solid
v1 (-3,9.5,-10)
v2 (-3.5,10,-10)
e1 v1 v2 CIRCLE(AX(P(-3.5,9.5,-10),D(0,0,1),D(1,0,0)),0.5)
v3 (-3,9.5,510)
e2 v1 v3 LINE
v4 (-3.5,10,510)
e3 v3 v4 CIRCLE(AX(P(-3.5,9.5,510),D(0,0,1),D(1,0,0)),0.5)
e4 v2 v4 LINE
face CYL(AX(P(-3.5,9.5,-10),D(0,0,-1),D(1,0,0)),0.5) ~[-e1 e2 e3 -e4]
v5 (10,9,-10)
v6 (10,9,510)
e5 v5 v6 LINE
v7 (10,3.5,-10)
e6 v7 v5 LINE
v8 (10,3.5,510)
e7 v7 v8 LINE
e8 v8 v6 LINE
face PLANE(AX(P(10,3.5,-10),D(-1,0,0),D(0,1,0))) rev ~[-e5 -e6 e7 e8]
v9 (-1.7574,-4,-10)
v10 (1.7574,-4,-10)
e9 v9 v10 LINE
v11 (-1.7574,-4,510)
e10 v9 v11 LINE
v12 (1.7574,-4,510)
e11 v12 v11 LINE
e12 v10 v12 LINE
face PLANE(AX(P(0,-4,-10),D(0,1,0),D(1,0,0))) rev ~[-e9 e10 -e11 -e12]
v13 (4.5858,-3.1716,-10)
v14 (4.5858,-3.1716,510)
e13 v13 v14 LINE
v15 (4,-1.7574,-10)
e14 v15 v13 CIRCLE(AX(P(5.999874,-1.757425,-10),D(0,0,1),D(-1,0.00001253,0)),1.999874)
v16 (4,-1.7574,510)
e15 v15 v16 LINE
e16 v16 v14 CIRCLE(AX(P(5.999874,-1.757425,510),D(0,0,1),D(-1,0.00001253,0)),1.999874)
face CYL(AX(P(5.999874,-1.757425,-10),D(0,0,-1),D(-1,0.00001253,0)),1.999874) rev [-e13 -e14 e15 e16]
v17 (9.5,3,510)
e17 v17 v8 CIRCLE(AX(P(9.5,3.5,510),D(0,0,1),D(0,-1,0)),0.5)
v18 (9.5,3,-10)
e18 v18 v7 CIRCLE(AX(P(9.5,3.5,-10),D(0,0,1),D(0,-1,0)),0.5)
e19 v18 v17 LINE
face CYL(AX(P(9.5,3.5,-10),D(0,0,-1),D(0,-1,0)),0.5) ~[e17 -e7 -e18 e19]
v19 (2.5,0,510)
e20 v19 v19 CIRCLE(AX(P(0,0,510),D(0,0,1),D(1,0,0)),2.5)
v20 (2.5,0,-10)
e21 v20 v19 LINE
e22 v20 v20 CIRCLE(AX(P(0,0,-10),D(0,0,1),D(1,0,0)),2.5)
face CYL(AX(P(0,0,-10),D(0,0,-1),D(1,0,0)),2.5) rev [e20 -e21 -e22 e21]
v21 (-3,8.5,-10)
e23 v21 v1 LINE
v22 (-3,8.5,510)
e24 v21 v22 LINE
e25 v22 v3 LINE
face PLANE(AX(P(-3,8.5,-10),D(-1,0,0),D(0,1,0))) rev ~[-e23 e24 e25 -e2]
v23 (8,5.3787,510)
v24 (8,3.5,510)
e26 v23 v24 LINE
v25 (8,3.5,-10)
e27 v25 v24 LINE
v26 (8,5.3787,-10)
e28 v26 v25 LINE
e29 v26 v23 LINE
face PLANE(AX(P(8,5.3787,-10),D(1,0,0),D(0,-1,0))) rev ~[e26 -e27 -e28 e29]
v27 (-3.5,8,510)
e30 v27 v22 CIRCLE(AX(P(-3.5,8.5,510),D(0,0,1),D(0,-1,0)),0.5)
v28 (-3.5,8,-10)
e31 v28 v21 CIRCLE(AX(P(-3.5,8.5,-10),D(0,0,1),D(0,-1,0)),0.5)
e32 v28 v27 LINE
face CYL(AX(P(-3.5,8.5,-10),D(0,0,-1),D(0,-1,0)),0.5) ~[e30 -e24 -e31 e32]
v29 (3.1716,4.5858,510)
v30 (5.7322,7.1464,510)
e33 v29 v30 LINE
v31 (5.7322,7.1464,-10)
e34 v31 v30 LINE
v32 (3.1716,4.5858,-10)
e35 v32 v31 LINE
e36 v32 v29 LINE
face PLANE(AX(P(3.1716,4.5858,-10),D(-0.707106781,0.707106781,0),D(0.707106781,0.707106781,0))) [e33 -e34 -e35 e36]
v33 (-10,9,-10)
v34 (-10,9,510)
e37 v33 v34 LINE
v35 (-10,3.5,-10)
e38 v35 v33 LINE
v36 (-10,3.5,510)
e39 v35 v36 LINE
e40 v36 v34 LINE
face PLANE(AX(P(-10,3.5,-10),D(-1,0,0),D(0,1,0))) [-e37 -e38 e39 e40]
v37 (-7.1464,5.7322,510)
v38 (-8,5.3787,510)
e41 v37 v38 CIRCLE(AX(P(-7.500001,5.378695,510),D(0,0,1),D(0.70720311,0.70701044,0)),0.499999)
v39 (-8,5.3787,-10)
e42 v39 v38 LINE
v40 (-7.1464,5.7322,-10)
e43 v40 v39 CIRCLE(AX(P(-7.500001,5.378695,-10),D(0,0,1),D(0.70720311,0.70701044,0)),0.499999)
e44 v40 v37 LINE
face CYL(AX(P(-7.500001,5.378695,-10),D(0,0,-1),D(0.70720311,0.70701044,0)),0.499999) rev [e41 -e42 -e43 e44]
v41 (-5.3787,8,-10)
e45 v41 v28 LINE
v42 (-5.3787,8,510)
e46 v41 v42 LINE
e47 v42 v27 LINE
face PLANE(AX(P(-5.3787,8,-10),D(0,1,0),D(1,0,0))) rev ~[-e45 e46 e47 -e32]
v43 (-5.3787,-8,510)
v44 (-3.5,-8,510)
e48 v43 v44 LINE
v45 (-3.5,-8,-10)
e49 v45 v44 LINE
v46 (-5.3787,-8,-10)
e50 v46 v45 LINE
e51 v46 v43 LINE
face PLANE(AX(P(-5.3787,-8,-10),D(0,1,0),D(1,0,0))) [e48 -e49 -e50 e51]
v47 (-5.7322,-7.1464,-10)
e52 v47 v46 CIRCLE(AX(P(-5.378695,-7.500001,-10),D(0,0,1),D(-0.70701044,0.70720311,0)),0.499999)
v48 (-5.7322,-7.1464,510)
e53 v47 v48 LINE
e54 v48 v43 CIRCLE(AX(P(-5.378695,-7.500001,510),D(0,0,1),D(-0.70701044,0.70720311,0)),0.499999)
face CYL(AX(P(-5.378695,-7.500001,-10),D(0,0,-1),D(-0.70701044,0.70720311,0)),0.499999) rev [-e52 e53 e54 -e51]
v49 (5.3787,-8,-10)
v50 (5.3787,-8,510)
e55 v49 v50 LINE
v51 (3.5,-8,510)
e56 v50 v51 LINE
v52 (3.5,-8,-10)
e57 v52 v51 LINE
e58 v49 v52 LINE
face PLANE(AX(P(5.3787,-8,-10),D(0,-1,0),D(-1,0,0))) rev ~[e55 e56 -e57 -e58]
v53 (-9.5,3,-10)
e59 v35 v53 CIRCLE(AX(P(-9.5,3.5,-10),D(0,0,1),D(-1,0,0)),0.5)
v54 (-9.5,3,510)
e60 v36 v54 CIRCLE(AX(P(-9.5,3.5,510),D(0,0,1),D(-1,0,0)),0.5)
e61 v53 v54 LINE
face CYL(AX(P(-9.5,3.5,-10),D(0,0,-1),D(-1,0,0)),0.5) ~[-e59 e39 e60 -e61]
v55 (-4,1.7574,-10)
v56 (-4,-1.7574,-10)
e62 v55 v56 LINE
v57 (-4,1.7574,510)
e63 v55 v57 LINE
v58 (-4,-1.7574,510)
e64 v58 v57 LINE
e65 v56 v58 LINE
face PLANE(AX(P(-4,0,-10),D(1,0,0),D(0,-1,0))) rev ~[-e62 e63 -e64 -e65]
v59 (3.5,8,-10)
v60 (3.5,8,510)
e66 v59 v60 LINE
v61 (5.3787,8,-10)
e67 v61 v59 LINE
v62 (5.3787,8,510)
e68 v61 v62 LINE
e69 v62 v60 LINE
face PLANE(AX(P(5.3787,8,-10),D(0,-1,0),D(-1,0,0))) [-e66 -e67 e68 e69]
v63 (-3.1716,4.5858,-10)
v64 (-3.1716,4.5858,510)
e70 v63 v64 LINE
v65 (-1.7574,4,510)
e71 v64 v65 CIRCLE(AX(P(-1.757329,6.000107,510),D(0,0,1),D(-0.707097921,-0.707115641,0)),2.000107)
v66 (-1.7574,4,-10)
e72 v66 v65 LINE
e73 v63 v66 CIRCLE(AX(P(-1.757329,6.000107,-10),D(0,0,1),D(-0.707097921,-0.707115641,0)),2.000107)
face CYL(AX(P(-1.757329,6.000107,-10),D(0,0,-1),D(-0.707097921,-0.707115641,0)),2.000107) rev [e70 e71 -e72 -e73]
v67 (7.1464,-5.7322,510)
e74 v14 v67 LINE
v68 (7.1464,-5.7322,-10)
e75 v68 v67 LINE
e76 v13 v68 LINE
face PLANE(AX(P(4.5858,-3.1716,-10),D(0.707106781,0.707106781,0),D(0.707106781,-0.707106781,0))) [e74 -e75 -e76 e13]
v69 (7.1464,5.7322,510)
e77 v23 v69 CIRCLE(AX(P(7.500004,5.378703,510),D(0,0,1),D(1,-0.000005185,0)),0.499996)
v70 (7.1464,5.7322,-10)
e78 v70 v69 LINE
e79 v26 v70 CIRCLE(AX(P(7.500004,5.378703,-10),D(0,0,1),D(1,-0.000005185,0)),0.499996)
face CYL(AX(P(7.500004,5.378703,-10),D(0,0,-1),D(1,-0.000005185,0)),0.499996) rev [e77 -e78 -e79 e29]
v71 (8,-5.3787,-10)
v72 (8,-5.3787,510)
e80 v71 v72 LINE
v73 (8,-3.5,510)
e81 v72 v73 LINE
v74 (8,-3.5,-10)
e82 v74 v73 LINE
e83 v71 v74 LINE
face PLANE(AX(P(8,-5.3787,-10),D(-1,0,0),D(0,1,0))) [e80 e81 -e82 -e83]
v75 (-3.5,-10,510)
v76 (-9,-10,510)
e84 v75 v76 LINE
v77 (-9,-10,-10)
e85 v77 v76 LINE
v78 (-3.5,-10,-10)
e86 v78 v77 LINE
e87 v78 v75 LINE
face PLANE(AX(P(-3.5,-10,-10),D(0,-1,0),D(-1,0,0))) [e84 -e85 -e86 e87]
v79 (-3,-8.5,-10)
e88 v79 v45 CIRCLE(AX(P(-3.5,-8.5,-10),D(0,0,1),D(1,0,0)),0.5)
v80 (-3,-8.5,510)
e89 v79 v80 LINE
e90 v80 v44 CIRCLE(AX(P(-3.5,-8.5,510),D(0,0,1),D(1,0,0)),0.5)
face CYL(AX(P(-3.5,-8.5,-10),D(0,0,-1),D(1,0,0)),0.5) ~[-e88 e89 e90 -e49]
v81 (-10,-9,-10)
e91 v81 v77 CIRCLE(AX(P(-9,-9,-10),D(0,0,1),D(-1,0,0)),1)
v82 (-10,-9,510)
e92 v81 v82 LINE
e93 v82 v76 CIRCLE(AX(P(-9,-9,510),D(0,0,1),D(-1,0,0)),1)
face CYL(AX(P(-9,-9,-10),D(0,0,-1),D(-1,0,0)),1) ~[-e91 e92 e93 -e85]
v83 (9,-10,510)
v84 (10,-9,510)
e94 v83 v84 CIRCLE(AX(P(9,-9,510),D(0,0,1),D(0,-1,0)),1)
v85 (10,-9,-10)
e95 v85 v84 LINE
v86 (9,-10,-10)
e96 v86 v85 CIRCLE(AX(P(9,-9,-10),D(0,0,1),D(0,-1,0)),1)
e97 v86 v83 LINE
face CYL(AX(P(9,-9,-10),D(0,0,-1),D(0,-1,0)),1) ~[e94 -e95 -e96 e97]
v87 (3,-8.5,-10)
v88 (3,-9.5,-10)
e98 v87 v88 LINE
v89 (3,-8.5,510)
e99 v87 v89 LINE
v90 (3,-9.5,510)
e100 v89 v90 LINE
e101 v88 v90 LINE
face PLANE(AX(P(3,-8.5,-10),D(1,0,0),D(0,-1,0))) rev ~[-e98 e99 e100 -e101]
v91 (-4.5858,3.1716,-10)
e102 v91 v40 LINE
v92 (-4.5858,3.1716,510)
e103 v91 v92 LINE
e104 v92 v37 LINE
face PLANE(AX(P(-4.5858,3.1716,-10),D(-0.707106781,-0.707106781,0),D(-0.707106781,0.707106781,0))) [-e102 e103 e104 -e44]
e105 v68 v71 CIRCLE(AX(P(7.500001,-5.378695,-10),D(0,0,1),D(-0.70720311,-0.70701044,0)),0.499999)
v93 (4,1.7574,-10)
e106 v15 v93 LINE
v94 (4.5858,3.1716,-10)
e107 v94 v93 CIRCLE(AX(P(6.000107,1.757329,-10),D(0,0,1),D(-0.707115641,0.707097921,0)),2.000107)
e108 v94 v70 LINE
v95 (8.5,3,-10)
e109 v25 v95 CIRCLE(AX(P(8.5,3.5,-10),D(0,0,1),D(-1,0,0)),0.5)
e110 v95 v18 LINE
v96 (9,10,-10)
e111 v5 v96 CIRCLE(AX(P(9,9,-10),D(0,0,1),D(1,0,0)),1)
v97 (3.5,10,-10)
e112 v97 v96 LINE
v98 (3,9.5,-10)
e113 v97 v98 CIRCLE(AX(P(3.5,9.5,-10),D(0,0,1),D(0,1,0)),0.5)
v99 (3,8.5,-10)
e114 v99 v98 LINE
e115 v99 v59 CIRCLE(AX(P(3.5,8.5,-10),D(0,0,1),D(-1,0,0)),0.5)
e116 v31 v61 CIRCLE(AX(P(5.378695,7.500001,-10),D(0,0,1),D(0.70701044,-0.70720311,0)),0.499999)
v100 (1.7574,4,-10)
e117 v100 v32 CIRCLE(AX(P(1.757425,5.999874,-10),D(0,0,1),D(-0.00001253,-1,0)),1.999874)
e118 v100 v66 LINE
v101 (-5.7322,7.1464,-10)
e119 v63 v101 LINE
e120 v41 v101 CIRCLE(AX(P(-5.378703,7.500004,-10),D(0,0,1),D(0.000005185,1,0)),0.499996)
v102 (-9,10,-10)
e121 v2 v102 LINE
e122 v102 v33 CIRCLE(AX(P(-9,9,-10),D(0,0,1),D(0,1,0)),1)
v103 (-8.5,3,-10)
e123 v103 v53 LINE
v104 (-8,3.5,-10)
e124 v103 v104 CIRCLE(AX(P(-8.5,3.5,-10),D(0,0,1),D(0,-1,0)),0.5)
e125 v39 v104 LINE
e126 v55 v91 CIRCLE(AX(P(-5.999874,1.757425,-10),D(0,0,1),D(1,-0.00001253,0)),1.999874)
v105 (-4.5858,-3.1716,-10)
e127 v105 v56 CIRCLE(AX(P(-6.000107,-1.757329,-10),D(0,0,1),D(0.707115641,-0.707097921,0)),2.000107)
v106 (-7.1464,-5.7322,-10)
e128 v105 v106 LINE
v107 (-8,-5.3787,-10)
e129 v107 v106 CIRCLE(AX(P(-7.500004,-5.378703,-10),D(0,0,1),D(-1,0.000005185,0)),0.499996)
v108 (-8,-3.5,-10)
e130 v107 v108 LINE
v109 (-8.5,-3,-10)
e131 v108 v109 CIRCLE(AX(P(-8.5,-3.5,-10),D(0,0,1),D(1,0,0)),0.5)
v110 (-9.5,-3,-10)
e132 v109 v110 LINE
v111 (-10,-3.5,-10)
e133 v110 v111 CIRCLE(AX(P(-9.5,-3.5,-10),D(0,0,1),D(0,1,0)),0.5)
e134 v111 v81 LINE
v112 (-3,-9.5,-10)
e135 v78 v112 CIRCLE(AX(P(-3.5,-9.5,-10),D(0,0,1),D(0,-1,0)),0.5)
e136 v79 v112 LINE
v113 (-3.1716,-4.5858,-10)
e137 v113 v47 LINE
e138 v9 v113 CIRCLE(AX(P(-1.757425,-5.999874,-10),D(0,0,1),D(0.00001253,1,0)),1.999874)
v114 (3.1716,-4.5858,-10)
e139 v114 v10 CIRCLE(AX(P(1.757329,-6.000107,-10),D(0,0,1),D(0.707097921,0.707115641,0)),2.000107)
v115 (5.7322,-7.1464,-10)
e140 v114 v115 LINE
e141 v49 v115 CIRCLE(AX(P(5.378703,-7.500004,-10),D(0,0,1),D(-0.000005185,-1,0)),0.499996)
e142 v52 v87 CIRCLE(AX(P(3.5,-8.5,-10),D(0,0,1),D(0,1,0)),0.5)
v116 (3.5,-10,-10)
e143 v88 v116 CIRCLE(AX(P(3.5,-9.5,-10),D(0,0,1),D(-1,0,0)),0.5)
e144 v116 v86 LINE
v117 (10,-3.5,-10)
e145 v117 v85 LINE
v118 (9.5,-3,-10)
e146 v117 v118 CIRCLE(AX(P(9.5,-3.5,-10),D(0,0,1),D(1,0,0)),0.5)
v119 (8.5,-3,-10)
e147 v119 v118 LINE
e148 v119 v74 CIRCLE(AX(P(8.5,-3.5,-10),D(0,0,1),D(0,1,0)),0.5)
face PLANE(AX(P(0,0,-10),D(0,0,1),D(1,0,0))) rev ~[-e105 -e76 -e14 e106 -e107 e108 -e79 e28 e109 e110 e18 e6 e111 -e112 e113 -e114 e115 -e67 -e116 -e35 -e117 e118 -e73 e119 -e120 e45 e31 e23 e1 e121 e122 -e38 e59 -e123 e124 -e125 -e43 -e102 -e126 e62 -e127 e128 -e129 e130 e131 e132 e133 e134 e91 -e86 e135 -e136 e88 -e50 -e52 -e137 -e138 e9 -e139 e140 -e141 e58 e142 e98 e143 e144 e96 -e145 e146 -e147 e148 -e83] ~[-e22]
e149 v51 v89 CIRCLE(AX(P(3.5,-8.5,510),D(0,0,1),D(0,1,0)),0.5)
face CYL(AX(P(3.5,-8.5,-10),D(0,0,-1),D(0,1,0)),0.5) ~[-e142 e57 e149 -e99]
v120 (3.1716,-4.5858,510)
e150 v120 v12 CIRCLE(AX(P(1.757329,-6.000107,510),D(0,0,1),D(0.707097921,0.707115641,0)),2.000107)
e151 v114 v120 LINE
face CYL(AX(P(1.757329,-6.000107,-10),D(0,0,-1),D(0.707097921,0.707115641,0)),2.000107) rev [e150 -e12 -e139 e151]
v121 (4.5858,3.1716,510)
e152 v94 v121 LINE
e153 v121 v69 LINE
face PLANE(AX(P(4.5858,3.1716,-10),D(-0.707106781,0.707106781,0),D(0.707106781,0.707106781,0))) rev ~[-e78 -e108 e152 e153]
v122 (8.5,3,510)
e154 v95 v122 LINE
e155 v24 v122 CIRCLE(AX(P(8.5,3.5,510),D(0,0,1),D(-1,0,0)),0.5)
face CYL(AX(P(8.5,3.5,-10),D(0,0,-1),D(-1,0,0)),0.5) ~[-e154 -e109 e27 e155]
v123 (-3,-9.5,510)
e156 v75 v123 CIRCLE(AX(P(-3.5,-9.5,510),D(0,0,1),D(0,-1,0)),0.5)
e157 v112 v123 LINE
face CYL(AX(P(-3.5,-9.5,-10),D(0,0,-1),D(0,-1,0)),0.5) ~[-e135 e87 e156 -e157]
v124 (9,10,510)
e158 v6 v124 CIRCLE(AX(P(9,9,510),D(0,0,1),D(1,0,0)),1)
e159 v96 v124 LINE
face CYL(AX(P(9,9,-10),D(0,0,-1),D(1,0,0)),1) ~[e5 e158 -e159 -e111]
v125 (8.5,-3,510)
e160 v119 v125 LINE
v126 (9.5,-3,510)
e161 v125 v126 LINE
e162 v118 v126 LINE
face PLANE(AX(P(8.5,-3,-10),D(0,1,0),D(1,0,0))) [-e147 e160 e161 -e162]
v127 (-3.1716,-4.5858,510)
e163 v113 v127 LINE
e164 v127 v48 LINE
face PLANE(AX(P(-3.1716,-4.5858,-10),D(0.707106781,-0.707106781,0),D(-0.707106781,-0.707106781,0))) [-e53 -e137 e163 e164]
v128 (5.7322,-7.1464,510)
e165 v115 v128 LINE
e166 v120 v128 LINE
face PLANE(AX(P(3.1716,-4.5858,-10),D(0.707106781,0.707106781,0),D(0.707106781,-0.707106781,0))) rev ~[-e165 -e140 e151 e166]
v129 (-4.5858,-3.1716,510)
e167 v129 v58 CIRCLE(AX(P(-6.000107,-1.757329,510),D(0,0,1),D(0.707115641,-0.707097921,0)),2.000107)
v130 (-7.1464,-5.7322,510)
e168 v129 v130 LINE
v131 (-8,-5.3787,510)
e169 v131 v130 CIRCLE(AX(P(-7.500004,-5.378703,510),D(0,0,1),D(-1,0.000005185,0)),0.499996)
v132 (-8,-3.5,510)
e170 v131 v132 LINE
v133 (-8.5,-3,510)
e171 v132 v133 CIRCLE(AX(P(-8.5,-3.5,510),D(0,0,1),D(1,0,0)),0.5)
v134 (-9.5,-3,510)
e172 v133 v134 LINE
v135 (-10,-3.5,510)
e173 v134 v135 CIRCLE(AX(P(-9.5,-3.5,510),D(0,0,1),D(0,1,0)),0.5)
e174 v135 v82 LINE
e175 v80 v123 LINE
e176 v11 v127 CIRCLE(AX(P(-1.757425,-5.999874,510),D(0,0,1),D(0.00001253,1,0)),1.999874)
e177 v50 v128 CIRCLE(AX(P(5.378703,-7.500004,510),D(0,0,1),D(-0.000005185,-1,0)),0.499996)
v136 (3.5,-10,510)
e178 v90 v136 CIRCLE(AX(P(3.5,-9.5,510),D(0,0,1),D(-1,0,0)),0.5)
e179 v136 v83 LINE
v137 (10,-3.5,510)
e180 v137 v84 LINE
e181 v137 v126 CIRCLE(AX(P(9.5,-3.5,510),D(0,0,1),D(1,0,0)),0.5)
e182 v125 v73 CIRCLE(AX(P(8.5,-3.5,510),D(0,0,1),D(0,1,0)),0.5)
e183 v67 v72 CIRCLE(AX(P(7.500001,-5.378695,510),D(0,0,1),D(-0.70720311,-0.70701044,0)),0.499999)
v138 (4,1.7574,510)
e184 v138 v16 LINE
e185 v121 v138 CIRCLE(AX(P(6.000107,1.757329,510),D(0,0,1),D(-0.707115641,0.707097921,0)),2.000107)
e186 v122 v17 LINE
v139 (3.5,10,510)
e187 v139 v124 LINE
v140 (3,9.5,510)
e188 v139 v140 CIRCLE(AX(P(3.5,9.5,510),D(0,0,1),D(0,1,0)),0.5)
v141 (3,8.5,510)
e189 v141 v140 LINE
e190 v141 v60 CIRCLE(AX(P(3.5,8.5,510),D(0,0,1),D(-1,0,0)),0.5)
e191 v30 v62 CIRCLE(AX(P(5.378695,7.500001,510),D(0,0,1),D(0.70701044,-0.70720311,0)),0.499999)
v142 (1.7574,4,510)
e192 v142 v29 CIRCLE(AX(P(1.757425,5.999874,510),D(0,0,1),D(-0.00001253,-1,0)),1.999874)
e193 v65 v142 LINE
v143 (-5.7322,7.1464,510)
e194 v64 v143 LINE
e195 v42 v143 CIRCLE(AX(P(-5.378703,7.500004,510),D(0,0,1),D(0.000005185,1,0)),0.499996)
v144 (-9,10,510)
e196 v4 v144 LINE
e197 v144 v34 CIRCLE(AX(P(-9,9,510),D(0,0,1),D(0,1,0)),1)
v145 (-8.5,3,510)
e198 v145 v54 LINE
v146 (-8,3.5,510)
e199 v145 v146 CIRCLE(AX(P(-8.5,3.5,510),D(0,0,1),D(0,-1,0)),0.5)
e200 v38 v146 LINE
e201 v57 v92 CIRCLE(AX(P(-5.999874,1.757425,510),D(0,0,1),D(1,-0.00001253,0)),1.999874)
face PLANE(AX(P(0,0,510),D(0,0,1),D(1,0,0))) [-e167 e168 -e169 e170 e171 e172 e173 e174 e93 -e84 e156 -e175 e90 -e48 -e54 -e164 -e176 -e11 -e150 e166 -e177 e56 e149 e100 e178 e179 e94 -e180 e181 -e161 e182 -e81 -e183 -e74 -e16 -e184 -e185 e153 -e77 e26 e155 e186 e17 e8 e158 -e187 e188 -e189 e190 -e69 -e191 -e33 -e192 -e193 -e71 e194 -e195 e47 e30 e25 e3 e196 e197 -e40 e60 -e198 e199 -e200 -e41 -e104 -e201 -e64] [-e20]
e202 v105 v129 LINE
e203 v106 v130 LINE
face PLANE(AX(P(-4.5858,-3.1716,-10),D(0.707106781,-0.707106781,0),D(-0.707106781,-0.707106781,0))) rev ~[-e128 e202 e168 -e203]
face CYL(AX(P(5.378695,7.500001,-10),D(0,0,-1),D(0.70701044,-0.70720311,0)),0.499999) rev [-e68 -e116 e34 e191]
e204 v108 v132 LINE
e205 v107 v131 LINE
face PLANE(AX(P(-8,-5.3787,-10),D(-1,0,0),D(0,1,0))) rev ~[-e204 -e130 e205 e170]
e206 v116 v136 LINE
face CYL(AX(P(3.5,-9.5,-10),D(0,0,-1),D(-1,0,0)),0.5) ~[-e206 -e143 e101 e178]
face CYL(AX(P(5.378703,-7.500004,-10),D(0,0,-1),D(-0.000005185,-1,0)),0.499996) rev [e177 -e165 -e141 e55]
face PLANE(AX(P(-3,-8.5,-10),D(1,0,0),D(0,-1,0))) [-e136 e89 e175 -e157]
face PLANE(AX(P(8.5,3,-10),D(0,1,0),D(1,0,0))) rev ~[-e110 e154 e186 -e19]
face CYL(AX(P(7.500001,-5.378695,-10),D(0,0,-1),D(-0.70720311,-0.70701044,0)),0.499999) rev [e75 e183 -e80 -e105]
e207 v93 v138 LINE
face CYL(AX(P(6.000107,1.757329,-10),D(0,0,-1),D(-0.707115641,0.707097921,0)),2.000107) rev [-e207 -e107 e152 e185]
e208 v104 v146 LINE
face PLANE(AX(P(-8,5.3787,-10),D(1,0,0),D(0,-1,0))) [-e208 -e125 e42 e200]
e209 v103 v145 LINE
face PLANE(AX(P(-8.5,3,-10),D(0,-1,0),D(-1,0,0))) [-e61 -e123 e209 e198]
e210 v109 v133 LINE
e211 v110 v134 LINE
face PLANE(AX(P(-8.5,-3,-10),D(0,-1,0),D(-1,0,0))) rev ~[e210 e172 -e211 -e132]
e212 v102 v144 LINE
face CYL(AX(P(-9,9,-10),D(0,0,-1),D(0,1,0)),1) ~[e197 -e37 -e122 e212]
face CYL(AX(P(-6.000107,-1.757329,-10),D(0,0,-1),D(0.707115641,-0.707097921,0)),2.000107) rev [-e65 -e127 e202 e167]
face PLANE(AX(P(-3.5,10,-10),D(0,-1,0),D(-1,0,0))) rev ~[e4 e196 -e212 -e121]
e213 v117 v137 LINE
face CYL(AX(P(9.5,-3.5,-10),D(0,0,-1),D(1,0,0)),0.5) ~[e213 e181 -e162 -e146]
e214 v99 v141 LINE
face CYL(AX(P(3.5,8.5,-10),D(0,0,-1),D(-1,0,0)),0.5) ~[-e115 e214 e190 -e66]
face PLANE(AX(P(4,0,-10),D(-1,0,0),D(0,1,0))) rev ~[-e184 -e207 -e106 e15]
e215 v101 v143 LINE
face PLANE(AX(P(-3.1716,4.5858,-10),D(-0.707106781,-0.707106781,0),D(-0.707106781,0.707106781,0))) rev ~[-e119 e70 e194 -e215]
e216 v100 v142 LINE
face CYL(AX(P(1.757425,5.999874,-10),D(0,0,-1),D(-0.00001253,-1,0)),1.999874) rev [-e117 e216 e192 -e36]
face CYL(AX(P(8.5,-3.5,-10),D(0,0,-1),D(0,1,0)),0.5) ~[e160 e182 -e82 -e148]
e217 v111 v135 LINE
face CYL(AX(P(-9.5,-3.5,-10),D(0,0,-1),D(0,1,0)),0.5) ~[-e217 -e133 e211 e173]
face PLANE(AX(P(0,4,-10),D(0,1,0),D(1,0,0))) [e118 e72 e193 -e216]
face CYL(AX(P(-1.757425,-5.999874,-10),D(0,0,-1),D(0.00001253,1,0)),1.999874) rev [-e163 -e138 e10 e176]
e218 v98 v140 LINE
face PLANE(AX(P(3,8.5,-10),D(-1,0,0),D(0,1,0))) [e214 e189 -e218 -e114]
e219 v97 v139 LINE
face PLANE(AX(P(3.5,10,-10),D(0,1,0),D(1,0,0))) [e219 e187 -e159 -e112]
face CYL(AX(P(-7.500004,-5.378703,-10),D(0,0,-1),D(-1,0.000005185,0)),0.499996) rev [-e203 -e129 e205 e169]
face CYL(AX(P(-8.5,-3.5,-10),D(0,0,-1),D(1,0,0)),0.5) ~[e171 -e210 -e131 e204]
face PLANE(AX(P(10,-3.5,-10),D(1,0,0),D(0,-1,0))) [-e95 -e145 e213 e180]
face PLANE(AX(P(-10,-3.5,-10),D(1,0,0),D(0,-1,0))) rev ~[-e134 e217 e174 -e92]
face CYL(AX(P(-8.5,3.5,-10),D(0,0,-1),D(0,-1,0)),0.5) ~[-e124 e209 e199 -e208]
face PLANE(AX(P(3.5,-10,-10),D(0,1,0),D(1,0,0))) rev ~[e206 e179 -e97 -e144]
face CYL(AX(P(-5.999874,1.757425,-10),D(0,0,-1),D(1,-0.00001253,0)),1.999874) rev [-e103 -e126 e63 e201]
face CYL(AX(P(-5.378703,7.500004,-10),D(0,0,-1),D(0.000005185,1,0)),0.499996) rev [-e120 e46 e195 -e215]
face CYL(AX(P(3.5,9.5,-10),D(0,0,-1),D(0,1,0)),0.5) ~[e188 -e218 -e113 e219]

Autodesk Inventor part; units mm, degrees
ref_plane "Start Plane" through (0, 0, -10) normal (0, 0, 1) x (1, 0, 0)
ref_plane "End Plane" through (0, 0, 510) normal (0, 0, 1) x (1, 0, 0)
sketch "Sketch" plane through (0, 0, 0) normal (0, 0, 1) x (1, 0, 0)
  line L0 (0, 0) -> (2.5, 0) construction
  line L1 (0, 0) -> (0, 2.5) construction
  line L2 (0, 4) -> (0, -4) construction
  line L3 (0, 4) -> (1.7574, 4)
  arc A0 (1.7574, 4) -> (3.1716, 4.5858) centre (1.7574, 6) ccw
  line L4 (3.1716, 4.5858) -> (5.7322, 7.1464)
  line L5 (-4, 0) -> (4, 0) construction
  line L6 (4, 0) -> (4, 1.7574)
  arc A1 (4.5858, 3.1716) -> (4, 1.7574) centre (6, 1.7574) ccw
  line L7 (4.5858, 3.1716) -> (7.1464, 5.7322)
  line L8 (0, 0) -> (10, 10) construction
  line L9 (0, 0) -> (19.6827, 0) construction
  arc A2 (8, 5.3787) -> (7.1464, 5.7322) centre (7.5, 5.3787) ccw
  line L10 (8, 5.3787) -> (8, 3.5)
  arc A3 (8, 3.5) -> (8.5, 3) centre (8.5, 3.5) ccw
  line L11 (8.5, 3) -> (9.5, 3)
  arc A4 (9.5, 3) -> (10, 3.5) centre (9.5, 3.5) ccw
  line L12 (10, 3.5) -> (10, 9)
  line L13 (10, 9) -> (10, 10) construction
  arc A5 (5.7322, 7.1464) -> (5.3787, 8) centre (5.3787, 7.5) ccw
  line L14 (5.3787, 8) -> (3.5, 8)
  arc A6 (3, 8.5) -> (3.5, 8) centre (3.5, 8.5) ccw
  line L15 (3, 8.5) -> (3, 9.5)
  arc A7 (3.5, 10) -> (3, 9.5) centre (3.5, 9.5) ccw
  line L16 (3.5, 10) -> (9, 10)
  arc A8 (10, 9) -> (9, 10) centre (9, 9) ccw
  line L17 (0, 4) -> (-1.7574, 4)
  arc A9 (-3.1716, 4.5858) -> (-1.7574, 4) centre (-1.7574, 6) ccw
  line L18 (-3.1716, 4.5858) -> (-5.7322, 7.1464)
  line L19 (-4, 0) -> (-4, 1.7574)
  arc A10 (-4, 1.7574) -> (-4.5858, 3.1716) centre (-6, 1.7574) ccw
  line L20 (-4.5858, 3.1716) -> (-7.1464, 5.7322)
  arc A11 (-7.1464, 5.7322) -> (-8, 5.3787) centre (-7.5, 5.3787) ccw
  line L21 (-8, 5.3787) -> (-8, 3.5)
  arc A12 (-8.5, 3) -> (-8, 3.5) centre (-8.5, 3.5) ccw
  line L22 (-8.5, 3) -> (-9.5, 3)
  arc A13 (-10, 3.5) -> (-9.5, 3) centre (-9.5, 3.5) ccw
  line L23 (-10, 3.5) -> (-10, 9)
  arc A14 (-5.3787, 8) -> (-5.7322, 7.1464) centre (-5.3787, 7.5) ccw
  line L24 (-5.3787, 8) -> (-3.5, 8)
  arc A15 (-3.5, 8) -> (-3, 8.5) centre (-3.5, 8.5) ccw
  line L25 (-3, 8.5) -> (-3, 9.5)
  arc A16 (-3, 9.5) -> (-3.5, 10) centre (-3.5, 9.5) ccw
  line L26 (-3.5, 10) -> (-9, 10)
  arc A17 (-9, 10) -> (-10, 9) centre (-9, 9) ccw
  line L27 (0, -4) -> (-1.7574, -4)
  arc A18 (-1.7574, -4) -> (-3.1716, -4.5858) centre (-1.7574, -6) ccw
  line L28 (-3.1716, -4.5858) -> (-5.7322, -7.1464)
  arc A19 (-5.7322, -7.1464) -> (-5.3787, -8) centre (-5.3787, -7.5) ccw
  line L29 (-5.3787, -8) -> (-3.5, -8)
  arc A20 (-3, -8.5) -> (-3.5, -8) centre (-3.5, -8.5) ccw
  line L30 (-3, -8.5) -> (-3, -9.5)
  arc A21 (-3.5, -10) -> (-3, -9.5) centre (-3.5, -9.5) ccw
  line L31 (-3.5, -10) -> (-9, -10)
  arc A22 (-10, -9) -> (-9, -10) centre (-9, -9) ccw
  line L32 (-10, -3.5) -> (-10, -9)
  arc A23 (-9.5, -3) -> (-10, -3.5) centre (-9.5, -3.5) ccw
  line L33 (-8.5, -3) -> (-9.5, -3)
  arc A24 (-8, -3.5) -> (-8.5, -3) centre (-8.5, -3.5) ccw
  line L34 (-8, -5.3787) -> (-8, -3.5)
  arc A25 (-8, -5.3787) -> (-7.1464, -5.7322) centre (-7.5, -5.3787) ccw
  line L35 (-4.5858, -3.1716) -> (-7.1464, -5.7322)
  arc A26 (-4.5858, -3.1716) -> (-4, -1.7574) centre (-6, -1.7574) ccw
  line L36 (-4, 0) -> (-4, -1.7574)
  line L37 (3.5, -10) -> (9, -10)
  arc A27 (9, -10) -> (10, -9) centre (9, -9) ccw
  line L38 (10, -3.5) -> (10, -9)
  arc A28 (10, -3.5) -> (9.5, -3) centre (9.5, -3.5) ccw
  line L39 (8.5, -3) -> (9.5, -3)
  arc A29 (8.5, -3) -> (8, -3.5) centre (8.5, -3.5) ccw
  line L40 (8, -5.3787) -> (8, -3.5)
  arc A30 (7.1464, -5.7322) -> (8, -5.3787) centre (7.5, -5.3787) ccw
  line L41 (4.5858, -3.1716) -> (7.1464, -5.7322)
  arc A31 (4, -1.7574) -> (4.5858, -3.1716) centre (6, -1.7574) ccw
  line L42 (4, 0) -> (4, -1.7574)
  line L43 (5.3787, -8) -> (3.5, -8)
  arc A32 (5.3787, -8) -> (5.7322, -7.1464) centre (5.3787, -7.5) ccw
  line L44 (3.1716, -4.5858) -> (5.7322, -7.1464)
  arc A33 (3.1716, -4.5858) -> (1.7574, -4) centre (1.7574, -6) ccw
  line L45 (0, -4) -> (1.7574, -4)
  arc A34 (3.5, -8) -> (3, -8.5) centre (3.5, -8.5) ccw
  line L46 (3, -8.5) -> (3, -9.5)
  arc A35 (3, -9.5) -> (3.5, -10) centre (3.5, -9.5) ccw
  circle A36 centre (0, 0) radius 2.5
  dimension "d1" = 8
  dimension "d2" = 2
  dimension "d3" = 8
  dimension "d4" = 2
  dimension "d5" = 2
  dimension "d7" = 45
  dimension "d8" = 0.5
  dimension "d9" = 0.5
  dimension "d10" = 0.5
  dimension "d12" = 2
  dimension "d17" = 7
  dimension "d18" = 10
  dimension "d19" = 0.5
  dimension "d20" = 1
  dimension "d21" = 0.5
  dimension "d22" = 0.5
  dimension "d23" = 2
  dimension "d24" = 7
  dimension "d25" = 5
extrude "Body" add sketch "Sketch" along normal up to surface (520 mm away) from surface at -10
sketch "Sketch6" plane through (0, 0, 0) normal (0, 0, 1) x (1, 0, 0)
  line L0 (0, 0) -> (10, 0)
ref_plane "Work Plane5" through (0, 0, 0) normal (0, -1, 0) x (1, 0, 0)
sketch "Sketch7" plane through (0, 0, 0) normal (0, -1, 0) x (1, 0, 0)
  line L0 (-2, -10) -> (12, -10)
  line L1 (-2, 510) -> (12, 510)
  dimension "d33" = 520
ref_plane "Work Plane6" through (-10.031, 0, 510) normal (0, 0, 1) x (1, 0, 0)
split "Split1" plane through (-10.031, 0, 510) removes the side toward (0, 0, 1)
ref_plane "Work Plane7" through (-139.969, 0, -10) normal (0, 0, -1) x (-1, 0, 0)
split "Split2" plane through (-139.969, 0, -10) removes the side toward (0, 0, -1)
equation "\"d1\" = 8 * sigma"
equation "\"d2\" = 2 * sigma"
equation "\"d3\" = 8 * sigma"
equation "\"d4\" = 2 * sigma"
equation "\"d5\" = 2 * sigma"
equation "\"d8\" = 0.5 * sigma"
equation "\"d9\" = 0.5 * sigma"
equation "\"d10\" = 0.5 * sigma"
equation "\"d12\" = 2 * sigma"
equation "\"d17\" = 7 * sigma"
equation "\"d18\" = sigma"
equation "\"d19\" = 0.5 * sigma"
equation "\"d20\" = sigma"
equation "\"d21\" = 0.5 * sigma"
equation "\"d22\" = 0.5 * sigma"
equation "\"d23\" = 2 * sigma"
equation "\"d24\" = 7 * sigma"
equation "\"d25\" = 5 * sigma"
equation "\"sigma\" = 1"
equation "\"G_L\" = d33"
properties part number "A3.3-MEM"
